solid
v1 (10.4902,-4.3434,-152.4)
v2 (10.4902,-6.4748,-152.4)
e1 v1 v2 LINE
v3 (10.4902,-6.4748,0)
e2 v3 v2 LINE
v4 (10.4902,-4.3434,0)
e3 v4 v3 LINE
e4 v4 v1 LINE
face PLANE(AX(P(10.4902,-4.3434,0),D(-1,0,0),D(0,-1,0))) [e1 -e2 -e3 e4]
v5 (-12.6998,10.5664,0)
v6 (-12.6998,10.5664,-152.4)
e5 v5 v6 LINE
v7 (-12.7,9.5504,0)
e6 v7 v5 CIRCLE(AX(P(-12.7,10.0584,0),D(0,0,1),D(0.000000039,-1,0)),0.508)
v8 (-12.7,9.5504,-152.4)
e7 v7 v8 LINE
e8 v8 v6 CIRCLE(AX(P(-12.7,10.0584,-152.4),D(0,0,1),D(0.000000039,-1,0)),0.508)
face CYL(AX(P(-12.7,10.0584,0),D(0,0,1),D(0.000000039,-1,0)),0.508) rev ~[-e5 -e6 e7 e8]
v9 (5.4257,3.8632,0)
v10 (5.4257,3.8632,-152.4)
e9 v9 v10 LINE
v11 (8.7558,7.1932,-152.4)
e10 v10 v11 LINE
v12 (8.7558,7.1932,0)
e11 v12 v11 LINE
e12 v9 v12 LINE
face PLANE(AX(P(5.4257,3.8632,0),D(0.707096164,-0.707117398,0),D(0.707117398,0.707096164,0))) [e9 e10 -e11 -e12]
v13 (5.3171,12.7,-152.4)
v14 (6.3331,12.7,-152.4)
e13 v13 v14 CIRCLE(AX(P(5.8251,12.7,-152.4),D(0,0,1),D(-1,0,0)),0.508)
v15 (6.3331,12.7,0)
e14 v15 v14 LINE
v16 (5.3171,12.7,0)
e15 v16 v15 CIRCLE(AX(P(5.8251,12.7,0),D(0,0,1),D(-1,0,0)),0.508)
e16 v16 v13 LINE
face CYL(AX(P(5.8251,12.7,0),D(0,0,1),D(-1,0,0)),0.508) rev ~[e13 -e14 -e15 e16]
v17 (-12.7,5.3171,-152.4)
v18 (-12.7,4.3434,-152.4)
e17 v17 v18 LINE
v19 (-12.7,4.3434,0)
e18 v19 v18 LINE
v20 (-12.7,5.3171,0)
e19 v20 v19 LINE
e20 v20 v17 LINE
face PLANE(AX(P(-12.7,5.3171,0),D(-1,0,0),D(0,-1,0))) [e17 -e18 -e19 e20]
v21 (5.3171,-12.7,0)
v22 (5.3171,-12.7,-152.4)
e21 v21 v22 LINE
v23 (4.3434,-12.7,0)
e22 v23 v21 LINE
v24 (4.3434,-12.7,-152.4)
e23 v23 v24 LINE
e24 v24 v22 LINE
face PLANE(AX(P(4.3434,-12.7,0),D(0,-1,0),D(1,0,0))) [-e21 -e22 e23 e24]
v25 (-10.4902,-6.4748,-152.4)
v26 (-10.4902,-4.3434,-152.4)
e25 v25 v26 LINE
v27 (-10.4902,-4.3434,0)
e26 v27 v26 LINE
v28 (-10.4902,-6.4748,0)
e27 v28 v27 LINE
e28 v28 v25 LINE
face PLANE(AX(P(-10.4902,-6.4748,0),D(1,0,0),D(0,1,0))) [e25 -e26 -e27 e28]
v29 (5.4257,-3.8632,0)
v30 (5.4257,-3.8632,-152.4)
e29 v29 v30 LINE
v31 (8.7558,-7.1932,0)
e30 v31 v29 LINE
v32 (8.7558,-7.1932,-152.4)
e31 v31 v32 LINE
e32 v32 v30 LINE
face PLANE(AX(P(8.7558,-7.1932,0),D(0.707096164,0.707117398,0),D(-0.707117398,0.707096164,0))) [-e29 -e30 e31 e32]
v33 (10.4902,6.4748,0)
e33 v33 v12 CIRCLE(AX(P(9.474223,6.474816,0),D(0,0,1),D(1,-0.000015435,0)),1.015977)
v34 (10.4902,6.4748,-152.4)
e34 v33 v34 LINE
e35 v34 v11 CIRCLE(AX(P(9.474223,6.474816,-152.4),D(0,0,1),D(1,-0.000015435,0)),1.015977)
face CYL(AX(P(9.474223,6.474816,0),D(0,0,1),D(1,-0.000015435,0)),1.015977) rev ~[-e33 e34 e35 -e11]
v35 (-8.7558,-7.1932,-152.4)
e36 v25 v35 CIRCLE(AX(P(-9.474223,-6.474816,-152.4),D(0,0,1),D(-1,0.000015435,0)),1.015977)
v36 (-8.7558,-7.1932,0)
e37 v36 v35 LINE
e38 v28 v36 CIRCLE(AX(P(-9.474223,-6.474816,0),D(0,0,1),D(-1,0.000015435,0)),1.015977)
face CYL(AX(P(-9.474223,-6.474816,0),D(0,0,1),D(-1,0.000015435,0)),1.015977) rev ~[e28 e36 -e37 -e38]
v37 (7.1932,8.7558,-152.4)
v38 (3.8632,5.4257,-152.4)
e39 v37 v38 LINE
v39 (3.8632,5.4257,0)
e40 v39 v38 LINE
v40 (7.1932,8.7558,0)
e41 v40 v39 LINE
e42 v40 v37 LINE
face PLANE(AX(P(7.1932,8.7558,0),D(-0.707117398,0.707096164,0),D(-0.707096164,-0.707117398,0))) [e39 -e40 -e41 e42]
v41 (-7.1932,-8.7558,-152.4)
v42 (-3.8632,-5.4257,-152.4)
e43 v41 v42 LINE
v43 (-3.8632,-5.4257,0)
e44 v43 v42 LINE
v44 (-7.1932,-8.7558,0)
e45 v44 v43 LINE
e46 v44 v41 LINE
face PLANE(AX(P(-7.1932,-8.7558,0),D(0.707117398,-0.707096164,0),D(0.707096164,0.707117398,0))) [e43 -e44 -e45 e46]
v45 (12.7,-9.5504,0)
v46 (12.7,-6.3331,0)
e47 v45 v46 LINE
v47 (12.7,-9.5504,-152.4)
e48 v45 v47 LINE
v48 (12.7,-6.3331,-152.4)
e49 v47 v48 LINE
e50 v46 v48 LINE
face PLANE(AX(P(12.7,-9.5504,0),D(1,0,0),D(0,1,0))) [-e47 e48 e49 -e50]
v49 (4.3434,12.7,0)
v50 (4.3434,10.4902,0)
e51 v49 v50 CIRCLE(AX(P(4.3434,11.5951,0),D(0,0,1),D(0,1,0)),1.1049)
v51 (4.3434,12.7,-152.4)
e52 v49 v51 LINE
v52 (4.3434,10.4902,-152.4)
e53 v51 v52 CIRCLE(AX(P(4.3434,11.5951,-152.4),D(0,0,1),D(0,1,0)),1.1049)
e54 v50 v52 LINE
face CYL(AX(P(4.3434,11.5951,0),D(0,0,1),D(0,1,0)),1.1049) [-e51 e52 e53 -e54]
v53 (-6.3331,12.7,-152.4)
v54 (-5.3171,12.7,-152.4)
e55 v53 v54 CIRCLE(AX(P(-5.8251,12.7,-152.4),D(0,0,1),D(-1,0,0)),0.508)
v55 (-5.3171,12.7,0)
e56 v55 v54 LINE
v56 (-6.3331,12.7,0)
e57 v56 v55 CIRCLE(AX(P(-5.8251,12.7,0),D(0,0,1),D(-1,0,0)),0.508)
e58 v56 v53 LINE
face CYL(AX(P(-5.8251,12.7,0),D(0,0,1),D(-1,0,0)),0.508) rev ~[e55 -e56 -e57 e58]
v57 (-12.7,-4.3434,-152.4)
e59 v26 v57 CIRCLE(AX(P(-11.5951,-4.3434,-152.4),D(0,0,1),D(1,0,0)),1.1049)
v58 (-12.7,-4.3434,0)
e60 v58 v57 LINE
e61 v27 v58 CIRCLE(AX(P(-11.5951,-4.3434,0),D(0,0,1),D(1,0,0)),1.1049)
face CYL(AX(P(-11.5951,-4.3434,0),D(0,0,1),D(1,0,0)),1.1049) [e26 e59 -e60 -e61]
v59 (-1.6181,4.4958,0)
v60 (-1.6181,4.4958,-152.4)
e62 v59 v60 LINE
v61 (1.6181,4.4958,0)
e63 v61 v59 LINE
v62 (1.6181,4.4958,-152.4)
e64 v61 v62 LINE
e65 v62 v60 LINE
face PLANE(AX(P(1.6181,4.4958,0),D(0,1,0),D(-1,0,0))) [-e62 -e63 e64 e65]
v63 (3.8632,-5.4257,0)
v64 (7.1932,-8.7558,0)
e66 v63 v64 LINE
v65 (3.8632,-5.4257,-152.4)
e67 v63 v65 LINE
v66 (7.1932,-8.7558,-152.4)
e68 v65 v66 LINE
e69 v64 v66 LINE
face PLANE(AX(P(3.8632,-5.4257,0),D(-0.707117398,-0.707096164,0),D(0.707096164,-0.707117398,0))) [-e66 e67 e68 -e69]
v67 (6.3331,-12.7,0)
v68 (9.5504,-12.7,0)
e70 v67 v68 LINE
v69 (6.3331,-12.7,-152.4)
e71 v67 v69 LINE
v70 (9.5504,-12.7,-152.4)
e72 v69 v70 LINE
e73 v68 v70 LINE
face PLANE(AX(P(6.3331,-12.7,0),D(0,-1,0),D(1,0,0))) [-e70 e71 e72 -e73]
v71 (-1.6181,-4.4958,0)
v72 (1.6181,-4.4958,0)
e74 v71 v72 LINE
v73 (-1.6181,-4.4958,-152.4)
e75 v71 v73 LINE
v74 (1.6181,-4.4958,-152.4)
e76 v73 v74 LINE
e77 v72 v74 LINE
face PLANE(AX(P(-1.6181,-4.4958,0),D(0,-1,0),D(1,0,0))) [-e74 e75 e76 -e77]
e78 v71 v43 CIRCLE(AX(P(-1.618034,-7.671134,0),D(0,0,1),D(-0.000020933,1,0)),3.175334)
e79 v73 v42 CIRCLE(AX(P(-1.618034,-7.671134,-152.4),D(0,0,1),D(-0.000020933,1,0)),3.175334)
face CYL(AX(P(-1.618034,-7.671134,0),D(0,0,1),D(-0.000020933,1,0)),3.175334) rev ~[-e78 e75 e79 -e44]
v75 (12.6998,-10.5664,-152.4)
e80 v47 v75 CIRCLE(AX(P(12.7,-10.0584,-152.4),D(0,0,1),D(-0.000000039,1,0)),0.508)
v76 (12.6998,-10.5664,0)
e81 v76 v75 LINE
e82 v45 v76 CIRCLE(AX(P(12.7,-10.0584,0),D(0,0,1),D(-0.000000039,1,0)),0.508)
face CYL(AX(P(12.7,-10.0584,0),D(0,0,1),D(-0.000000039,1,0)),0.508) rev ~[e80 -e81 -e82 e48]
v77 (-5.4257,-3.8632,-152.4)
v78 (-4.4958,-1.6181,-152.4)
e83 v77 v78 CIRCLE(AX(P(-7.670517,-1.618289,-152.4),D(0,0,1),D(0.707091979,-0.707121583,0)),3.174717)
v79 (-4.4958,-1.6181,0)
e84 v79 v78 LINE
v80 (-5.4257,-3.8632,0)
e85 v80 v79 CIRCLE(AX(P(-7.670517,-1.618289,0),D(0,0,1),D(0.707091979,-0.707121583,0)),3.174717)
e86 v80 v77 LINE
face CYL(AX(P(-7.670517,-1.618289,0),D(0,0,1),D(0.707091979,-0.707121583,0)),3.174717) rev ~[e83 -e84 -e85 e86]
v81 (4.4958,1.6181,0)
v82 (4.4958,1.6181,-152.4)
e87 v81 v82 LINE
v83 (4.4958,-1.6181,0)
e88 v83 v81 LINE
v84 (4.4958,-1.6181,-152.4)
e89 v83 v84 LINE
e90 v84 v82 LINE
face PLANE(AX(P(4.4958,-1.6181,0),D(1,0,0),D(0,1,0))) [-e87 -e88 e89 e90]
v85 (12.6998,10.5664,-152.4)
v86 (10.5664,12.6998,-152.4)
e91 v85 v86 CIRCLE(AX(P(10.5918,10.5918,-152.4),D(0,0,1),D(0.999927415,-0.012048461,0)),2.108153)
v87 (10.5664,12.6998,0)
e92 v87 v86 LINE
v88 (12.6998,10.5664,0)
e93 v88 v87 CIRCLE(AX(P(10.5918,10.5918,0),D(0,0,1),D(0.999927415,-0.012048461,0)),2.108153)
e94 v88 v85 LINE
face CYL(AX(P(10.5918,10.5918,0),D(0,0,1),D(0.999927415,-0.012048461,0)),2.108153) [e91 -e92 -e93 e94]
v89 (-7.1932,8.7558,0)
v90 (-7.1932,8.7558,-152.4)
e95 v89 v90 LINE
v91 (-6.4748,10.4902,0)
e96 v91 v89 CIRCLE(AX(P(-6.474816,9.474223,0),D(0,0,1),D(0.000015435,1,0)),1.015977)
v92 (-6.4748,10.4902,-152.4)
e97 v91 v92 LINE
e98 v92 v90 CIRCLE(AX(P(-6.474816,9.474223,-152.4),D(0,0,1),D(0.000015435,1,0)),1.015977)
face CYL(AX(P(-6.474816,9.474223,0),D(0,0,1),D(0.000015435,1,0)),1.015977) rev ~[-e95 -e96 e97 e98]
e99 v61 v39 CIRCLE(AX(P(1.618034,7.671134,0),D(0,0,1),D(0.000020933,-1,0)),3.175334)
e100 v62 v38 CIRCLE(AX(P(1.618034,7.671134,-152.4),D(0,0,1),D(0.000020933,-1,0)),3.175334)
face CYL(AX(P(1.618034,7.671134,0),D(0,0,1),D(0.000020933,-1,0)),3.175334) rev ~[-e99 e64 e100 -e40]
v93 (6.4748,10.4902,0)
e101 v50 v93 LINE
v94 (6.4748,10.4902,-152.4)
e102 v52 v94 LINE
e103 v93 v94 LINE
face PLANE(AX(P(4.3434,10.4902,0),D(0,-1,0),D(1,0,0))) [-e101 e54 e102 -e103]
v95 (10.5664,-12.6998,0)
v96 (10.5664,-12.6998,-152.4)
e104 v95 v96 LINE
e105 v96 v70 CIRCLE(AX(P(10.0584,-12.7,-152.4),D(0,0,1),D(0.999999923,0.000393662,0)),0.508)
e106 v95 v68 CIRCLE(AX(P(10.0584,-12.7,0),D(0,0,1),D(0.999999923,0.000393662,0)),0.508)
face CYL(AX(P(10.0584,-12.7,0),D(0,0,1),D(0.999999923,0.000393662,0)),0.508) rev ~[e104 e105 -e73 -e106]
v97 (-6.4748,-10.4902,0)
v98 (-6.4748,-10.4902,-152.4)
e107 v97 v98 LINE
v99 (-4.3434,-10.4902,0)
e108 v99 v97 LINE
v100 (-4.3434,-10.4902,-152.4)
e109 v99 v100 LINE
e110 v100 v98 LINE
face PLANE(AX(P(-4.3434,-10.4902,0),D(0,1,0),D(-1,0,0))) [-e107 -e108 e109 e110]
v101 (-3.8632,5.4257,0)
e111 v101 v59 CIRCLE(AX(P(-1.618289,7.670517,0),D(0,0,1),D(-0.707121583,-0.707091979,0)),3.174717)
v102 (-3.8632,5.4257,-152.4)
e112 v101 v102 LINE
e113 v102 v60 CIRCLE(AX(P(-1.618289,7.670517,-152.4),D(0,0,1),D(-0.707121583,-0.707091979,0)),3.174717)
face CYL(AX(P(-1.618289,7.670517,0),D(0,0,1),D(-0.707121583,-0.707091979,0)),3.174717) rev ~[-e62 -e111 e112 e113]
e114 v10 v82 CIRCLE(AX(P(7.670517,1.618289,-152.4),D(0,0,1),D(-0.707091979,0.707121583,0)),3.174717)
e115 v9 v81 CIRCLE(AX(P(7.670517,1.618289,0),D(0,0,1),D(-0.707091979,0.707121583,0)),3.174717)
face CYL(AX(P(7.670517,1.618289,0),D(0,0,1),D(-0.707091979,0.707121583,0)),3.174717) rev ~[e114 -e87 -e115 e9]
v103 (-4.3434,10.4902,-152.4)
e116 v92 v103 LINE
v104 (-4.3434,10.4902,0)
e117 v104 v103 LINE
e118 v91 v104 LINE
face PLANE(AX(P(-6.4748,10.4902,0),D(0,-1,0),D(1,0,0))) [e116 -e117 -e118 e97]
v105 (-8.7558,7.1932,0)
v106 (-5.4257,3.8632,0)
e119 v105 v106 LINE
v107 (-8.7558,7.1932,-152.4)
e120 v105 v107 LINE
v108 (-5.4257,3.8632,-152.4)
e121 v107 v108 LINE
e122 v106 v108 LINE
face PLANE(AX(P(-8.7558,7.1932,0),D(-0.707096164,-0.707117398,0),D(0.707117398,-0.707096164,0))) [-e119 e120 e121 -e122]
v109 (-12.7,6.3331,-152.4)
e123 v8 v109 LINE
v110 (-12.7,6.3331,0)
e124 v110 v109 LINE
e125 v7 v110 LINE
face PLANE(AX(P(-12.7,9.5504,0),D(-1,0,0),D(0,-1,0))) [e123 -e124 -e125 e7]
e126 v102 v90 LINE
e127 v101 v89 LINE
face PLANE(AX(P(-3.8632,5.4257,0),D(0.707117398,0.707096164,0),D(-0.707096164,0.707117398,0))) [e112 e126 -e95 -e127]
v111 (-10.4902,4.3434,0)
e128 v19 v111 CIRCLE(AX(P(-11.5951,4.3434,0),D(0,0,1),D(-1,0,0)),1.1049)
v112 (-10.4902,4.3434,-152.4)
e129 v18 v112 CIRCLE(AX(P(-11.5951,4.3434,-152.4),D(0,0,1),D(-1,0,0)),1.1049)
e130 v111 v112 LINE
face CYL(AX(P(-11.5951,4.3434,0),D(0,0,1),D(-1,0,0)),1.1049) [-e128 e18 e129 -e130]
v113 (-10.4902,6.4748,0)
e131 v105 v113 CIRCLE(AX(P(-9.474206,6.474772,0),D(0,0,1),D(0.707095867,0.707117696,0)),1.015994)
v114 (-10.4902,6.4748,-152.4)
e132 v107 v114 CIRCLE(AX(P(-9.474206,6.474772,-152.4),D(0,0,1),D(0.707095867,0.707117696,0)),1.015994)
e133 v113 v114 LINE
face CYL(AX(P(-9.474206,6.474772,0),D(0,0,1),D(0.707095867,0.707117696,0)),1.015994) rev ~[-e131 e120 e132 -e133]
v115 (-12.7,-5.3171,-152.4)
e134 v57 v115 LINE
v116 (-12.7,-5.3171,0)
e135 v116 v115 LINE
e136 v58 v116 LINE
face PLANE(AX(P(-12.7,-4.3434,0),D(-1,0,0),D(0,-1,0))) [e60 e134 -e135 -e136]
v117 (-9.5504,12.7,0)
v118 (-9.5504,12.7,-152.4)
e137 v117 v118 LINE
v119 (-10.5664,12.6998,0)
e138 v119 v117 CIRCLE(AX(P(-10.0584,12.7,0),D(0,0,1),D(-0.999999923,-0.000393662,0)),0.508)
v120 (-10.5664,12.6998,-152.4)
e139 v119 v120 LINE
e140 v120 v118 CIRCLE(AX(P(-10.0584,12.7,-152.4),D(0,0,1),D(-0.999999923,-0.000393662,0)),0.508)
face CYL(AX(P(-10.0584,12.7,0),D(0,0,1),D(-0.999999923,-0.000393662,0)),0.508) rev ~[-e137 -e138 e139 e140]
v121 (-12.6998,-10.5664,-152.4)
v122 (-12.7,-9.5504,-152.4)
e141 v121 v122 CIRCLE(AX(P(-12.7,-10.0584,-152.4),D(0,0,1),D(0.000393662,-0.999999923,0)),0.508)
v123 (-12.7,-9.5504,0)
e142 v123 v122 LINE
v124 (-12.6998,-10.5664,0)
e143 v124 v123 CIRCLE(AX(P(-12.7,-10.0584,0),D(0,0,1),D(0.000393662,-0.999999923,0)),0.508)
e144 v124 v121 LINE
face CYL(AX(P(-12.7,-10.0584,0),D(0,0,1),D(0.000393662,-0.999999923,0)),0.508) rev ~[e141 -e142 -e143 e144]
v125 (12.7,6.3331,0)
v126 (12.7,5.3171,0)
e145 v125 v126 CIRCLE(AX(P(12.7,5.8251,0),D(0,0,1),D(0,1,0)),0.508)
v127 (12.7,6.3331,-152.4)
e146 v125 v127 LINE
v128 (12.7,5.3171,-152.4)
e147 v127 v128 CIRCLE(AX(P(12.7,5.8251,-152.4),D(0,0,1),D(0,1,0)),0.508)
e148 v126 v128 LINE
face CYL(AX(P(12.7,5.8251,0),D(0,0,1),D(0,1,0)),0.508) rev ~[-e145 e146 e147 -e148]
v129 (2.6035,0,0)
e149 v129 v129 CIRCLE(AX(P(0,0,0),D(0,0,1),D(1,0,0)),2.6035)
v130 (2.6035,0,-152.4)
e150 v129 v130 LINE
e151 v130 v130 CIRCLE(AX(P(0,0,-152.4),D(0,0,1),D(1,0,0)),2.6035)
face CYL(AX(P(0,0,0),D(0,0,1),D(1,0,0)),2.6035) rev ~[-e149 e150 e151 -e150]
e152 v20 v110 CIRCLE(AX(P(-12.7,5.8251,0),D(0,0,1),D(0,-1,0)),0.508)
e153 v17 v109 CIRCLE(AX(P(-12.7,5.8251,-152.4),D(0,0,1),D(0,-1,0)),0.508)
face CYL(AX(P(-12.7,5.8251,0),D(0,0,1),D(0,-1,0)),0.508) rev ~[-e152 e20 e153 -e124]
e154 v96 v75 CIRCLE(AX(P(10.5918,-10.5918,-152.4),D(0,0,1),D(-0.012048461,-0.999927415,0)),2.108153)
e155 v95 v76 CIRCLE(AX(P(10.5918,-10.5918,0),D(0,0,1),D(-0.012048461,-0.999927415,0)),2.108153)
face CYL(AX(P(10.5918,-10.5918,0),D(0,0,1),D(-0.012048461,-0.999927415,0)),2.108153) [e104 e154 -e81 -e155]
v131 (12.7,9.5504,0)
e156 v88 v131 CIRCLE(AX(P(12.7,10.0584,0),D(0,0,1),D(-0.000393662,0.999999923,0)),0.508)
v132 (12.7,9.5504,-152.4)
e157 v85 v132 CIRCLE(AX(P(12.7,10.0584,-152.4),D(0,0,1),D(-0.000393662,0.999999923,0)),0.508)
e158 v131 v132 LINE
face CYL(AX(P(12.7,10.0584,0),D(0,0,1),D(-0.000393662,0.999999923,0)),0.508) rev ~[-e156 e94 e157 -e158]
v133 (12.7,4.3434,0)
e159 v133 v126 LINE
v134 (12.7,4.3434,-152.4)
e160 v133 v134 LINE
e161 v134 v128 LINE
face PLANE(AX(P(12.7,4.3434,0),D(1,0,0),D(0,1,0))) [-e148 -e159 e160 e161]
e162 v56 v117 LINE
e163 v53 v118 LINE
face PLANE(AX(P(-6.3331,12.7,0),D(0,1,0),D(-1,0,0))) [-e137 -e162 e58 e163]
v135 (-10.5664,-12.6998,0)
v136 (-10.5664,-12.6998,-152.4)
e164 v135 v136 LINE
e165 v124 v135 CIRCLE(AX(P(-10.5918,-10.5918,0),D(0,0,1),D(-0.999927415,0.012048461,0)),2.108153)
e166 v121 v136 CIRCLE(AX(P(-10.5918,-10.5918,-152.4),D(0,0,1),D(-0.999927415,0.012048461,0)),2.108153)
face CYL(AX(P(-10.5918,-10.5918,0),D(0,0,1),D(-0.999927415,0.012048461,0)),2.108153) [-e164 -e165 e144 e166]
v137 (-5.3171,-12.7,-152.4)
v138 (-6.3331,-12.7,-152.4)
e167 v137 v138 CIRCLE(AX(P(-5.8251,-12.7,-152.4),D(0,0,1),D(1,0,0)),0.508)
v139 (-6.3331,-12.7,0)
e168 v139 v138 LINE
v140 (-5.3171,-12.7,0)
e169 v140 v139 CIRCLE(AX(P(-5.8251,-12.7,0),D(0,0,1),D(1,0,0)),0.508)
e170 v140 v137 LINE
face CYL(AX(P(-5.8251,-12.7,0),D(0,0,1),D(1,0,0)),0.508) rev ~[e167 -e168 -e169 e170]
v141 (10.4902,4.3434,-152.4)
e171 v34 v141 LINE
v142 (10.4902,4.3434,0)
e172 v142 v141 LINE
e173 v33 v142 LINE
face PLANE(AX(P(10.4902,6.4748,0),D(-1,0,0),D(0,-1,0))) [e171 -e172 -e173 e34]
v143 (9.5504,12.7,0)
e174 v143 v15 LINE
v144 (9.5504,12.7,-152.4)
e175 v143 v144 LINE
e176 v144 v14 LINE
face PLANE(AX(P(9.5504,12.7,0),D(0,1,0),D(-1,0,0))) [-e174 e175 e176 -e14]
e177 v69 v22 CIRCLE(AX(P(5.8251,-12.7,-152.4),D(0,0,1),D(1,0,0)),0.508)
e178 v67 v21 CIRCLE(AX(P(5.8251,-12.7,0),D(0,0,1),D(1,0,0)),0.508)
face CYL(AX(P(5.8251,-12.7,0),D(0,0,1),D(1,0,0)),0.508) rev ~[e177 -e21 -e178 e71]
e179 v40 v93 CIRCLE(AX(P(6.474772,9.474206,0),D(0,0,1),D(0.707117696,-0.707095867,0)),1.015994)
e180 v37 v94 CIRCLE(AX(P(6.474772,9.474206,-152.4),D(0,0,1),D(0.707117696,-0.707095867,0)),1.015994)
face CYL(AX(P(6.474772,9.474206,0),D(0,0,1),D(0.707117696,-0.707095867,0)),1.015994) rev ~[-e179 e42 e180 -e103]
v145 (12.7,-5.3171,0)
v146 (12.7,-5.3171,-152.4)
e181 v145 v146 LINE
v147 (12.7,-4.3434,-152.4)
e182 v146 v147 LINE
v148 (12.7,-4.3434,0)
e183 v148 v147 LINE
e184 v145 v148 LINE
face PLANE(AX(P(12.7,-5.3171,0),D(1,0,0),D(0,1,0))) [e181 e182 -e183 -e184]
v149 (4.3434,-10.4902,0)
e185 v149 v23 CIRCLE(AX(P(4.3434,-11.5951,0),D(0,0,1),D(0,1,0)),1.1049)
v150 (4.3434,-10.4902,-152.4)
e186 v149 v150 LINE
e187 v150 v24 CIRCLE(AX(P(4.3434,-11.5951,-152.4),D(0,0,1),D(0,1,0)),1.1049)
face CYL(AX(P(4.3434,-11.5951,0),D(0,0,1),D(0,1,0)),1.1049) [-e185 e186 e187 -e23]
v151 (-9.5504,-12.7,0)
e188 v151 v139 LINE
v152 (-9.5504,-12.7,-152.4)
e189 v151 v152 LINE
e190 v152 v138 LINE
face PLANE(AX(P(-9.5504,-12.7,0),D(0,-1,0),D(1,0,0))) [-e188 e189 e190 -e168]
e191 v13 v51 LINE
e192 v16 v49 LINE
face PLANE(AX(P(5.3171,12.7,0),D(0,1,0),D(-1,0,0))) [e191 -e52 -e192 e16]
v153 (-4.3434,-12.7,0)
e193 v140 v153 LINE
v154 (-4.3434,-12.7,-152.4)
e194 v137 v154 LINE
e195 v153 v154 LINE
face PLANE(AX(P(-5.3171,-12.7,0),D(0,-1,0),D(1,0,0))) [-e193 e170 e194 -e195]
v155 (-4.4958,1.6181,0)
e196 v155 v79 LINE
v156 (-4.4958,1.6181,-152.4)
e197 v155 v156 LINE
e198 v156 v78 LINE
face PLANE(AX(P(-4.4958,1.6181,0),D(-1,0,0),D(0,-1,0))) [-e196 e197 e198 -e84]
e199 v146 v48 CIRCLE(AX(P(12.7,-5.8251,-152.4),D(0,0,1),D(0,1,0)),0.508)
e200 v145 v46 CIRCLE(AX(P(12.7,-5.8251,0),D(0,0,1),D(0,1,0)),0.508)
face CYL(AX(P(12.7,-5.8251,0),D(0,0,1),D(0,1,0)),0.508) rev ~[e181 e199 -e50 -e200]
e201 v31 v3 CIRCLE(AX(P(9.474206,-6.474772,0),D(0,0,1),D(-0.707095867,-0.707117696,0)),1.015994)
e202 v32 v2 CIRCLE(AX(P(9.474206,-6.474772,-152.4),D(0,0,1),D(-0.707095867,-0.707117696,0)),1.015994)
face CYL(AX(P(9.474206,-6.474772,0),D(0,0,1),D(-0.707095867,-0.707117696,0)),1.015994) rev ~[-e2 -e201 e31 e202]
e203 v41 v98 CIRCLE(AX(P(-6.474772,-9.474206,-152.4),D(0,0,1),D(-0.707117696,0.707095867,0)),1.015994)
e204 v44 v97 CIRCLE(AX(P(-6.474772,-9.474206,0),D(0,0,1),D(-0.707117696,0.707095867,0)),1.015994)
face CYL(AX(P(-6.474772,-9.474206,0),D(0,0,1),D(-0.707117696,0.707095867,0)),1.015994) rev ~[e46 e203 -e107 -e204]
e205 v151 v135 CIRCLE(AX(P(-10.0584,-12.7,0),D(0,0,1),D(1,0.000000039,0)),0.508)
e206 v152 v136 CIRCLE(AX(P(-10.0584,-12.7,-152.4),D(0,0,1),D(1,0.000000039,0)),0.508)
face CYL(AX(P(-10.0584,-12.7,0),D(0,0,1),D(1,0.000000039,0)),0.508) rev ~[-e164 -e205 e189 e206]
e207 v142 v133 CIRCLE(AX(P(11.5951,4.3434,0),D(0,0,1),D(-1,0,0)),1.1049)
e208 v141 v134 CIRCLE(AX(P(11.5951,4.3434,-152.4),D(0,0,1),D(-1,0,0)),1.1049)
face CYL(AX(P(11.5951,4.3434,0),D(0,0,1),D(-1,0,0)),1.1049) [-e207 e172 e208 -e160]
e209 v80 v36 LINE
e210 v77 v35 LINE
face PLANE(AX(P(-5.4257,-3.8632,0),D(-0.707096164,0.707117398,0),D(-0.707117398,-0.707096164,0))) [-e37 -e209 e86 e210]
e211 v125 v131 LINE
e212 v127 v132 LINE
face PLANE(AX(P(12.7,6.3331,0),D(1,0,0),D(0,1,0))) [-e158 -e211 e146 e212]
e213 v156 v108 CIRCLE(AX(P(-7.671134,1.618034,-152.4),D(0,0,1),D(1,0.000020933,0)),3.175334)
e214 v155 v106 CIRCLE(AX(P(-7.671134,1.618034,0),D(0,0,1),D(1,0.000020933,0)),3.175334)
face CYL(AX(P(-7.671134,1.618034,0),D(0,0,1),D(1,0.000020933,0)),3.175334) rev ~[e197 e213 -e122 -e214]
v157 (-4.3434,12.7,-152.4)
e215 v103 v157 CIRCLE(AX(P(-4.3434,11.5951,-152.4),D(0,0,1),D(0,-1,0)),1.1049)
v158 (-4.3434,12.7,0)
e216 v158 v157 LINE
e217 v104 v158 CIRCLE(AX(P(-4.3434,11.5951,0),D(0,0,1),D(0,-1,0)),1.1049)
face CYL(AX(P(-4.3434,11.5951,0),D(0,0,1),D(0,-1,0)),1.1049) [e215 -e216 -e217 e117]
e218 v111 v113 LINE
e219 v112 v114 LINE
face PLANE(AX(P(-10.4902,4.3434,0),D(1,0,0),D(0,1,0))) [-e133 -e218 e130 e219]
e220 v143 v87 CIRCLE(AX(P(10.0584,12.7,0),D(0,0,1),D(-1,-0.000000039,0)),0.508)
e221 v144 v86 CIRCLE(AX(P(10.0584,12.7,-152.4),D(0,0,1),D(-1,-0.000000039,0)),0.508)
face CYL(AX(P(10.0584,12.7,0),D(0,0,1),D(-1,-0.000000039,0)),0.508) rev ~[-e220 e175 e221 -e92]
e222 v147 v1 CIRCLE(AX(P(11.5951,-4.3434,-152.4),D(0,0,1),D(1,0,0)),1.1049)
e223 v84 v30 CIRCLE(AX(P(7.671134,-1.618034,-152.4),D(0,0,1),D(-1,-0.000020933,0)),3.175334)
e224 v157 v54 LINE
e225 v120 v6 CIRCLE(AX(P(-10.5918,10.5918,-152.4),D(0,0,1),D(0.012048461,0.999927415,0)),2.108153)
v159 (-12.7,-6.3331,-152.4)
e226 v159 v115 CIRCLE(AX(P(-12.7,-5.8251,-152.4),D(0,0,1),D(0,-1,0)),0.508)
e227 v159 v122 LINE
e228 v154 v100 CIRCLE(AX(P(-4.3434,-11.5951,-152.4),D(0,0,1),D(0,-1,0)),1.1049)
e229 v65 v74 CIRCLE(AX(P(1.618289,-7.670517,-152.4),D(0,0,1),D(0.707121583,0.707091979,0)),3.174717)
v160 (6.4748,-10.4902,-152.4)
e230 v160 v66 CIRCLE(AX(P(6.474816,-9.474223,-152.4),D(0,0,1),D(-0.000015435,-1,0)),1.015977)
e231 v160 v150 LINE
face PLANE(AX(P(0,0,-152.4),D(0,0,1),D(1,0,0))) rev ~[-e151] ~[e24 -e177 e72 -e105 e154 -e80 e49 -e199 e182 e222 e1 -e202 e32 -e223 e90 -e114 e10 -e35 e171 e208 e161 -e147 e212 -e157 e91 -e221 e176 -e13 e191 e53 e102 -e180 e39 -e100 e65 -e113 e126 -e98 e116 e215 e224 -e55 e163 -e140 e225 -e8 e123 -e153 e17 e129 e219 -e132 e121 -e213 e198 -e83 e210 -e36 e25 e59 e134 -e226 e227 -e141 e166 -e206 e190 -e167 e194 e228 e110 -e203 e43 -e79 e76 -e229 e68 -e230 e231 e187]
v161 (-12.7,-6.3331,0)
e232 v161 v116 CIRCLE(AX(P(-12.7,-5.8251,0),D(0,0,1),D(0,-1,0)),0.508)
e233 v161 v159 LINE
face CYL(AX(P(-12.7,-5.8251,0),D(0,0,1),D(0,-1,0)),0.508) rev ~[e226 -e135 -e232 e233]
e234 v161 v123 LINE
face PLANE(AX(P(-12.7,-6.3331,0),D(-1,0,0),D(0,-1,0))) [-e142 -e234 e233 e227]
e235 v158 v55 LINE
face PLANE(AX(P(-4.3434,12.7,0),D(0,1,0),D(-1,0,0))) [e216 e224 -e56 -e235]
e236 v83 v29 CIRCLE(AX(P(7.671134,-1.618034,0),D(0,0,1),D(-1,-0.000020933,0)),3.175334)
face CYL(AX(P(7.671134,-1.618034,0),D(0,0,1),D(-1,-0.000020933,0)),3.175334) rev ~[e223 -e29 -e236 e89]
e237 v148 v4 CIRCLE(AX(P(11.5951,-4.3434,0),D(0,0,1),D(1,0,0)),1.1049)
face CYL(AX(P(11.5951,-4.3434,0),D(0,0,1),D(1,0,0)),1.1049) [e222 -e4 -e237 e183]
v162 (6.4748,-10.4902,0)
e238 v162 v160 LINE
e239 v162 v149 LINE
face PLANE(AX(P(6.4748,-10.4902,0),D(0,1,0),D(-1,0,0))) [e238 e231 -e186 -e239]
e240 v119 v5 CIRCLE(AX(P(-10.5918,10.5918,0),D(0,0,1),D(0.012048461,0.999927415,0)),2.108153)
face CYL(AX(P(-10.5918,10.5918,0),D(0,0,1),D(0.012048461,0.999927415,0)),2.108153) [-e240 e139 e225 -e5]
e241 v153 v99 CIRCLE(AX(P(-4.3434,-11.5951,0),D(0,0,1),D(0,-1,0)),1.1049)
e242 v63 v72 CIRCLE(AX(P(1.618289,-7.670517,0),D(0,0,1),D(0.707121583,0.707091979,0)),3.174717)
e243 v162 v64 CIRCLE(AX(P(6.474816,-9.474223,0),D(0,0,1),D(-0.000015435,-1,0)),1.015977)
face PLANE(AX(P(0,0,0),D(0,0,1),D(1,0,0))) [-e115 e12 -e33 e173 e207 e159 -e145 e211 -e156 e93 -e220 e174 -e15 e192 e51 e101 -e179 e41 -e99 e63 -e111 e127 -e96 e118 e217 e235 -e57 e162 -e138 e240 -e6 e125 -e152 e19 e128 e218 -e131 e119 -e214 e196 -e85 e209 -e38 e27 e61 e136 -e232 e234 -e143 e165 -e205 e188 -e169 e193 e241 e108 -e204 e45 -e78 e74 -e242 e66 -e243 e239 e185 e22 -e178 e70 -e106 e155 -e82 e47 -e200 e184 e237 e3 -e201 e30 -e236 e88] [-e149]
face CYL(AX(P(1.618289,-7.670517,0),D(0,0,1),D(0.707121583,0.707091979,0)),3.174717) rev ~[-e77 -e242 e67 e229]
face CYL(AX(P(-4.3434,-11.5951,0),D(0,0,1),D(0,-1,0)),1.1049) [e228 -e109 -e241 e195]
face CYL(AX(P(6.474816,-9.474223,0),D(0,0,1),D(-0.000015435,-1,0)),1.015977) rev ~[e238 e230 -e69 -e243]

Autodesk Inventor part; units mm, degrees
sketch "Sketch_1" plane through (0, 0, 0) normal (0, 0, 1) x (1, 0, 0)
  arc A0 (-12.6998, -10.5664) -> (-10.5664, -12.6998) centre (-10.5918, -10.5918) ccw
  arc A1 (-9.5504, -12.7) -> (-10.5664, -12.6998) centre (-10.0584, -12.7) ccw
  line L0 (-9.5504, -12.7) -> (-6.3331, -12.7)
  arc A2 (-5.3171, -12.7) -> (-6.3331, -12.7) centre (-5.8251, -12.7) ccw
  line L1 (-5.3171, -12.7) -> (-4.3434, -12.7)
  arc A3 (-4.3434, -12.7) -> (-4.3434, -10.4902) centre (-4.3434, -11.5951) ccw
  line L2 (-4.3434, -10.4902) -> (-6.4748, -10.4902)
  arc A4 (-7.1932, -8.7558) -> (-6.4748, -10.4902) centre (-6.4748, -9.4742) ccw
  line L3 (-7.1932, -8.7558) -> (-3.8632, -5.4257)
  arc A5 (-1.6181, -4.4958) -> (-3.8632, -5.4257) centre (-1.6181, -7.6708) ccw
  line L4 (-1.6181, -4.4958) -> (1.6181, -4.4958)
  arc A6 (3.8632, -5.4257) -> (1.6181, -4.4958) centre (1.6181, -7.6708) ccw
  line L5 (3.8632, -5.4257) -> (7.1932, -8.7558)
  arc A7 (6.4748, -10.4902) -> (7.1932, -8.7558) centre (6.4748, -9.4742) ccw
  line L6 (6.4748, -10.4902) -> (4.3434, -10.4902)
  arc A8 (4.3434, -10.4902) -> (4.3434, -12.7) centre (4.3434, -11.5951) ccw
  line L7 (4.3434, -12.7) -> (5.3171, -12.7)
  arc A9 (6.3331, -12.7) -> (5.3171, -12.7) centre (5.8251, -12.7) ccw
  line L8 (6.3331, -12.7) -> (9.5504, -12.7)
  arc A10 (10.5664, -12.6998) -> (9.5504, -12.7) centre (10.0584, -12.7) ccw
  arc A11 (10.5664, -12.6998) -> (12.6998, -10.5664) centre (10.5918, -10.5918) ccw
  arc A12 (12.7, -9.5504) -> (12.6998, -10.5664) centre (12.7, -10.0584) ccw
  line L9 (12.7, -9.5504) -> (12.7, -6.3331)
  arc A13 (12.7, -5.3171) -> (12.7, -6.3331) centre (12.7, -5.8251) ccw
  line L10 (12.7, -5.3171) -> (12.7, -4.3434)
  arc A14 (12.7, -4.3434) -> (10.4902, -4.3434) centre (11.5951, -4.3434) ccw
  line L11 (10.4902, -4.3434) -> (10.4902, -6.4748)
  arc A15 (8.7558, -7.1932) -> (10.4902, -6.4748) centre (9.4742, -6.4748) ccw
  line L12 (8.7558, -7.1932) -> (5.4257, -3.8632)
  arc A16 (4.4958, -1.6181) -> (5.4257, -3.8632) centre (7.6708, -1.6181) ccw
  line L13 (4.4958, -1.6181) -> (4.4958, 1.6181)
  arc A17 (5.4257, 3.8632) -> (4.4958, 1.6181) centre (7.6708, 1.6181) ccw
  line L14 (5.4257, 3.8632) -> (8.7558, 7.1932)
  arc A18 (10.4902, 6.4748) -> (8.7558, 7.1932) centre (9.4742, 6.4748) ccw
  line L15 (10.4902, 6.4748) -> (10.4902, 4.3434)
  arc A19 (10.4902, 4.3434) -> (12.7, 4.3434) centre (11.5951, 4.3434) ccw
  line L16 (12.7, 4.3434) -> (12.7, 5.3171)
  arc A20 (12.7, 6.3331) -> (12.7, 5.3171) centre (12.7, 5.8251) ccw
  line L17 (12.7, 6.3331) -> (12.7, 9.5504)
  arc A21 (12.6998, 10.5664) -> (12.7, 9.5504) centre (12.7, 10.0584) ccw
  arc A22 (12.6998, 10.5664) -> (10.5664, 12.6998) centre (10.5918, 10.5918) ccw
  arc A23 (9.5504, 12.7) -> (10.5664, 12.6998) centre (10.0584, 12.7) ccw
  line L18 (9.5504, 12.7) -> (6.3331, 12.7)
  arc A24 (5.3171, 12.7) -> (6.3331, 12.7) centre (5.8251, 12.7) ccw
  line L19 (5.3171, 12.7) -> (4.3434, 12.7)
  arc A25 (4.3434, 12.7) -> (4.3434, 10.4902) centre (4.3434, 11.5951) ccw
  line L20 (4.3434, 10.4902) -> (6.4748, 10.4902)
  arc A26 (7.1932, 8.7558) -> (6.4748, 10.4902) centre (6.4748, 9.4742) ccw
  line L21 (7.1932, 8.7558) -> (3.8632, 5.4257)
  arc A27 (1.6181, 4.4958) -> (3.8632, 5.4257) centre (1.6181, 7.6708) ccw
  line L22 (1.6181, 4.4958) -> (-1.6181, 4.4958)
  arc A28 (-3.8632, 5.4257) -> (-1.6181, 4.4958) centre (-1.6181, 7.6708) ccw
  line L23 (-3.8632, 5.4257) -> (-7.1932, 8.7558)
  arc A29 (-6.4748, 10.4902) -> (-7.1932, 8.7558) centre (-6.4748, 9.4742) ccw
  line L24 (-6.4748, 10.4902) -> (-4.3434, 10.4902)
  arc A30 (-4.3434, 10.4902) -> (-4.3434, 12.7) centre (-4.3434, 11.5951) ccw
  line L25 (-4.3434, 12.7) -> (-5.3171, 12.7)
  arc A31 (-6.3331, 12.7) -> (-5.3171, 12.7) centre (-5.8251, 12.7) ccw
  line L26 (-6.3331, 12.7) -> (-9.5504, 12.7)
  arc A32 (-10.5664, 12.6998) -> (-9.5504, 12.7) centre (-10.0584, 12.7) ccw
  arc A33 (-10.5664, 12.6998) -> (-12.6998, 10.5664) centre (-10.5918, 10.5918) ccw
  arc A34 (-12.7, 9.5504) -> (-12.6998, 10.5664) centre (-12.7, 10.0584) ccw
  line L27 (-12.7, 9.5504) -> (-12.7, 6.3331)
  arc A35 (-12.7, 5.3171) -> (-12.7, 6.3331) centre (-12.7, 5.8251) ccw
  line L28 (-12.7, 5.3171) -> (-12.7, 4.3434)
  arc A36 (-12.7, 4.3434) -> (-10.4902, 4.3434) centre (-11.5951, 4.3434) ccw
  line L29 (-10.4902, 4.3434) -> (-10.4902, 6.4748)
  arc A37 (-8.7558, 7.1932) -> (-10.4902, 6.4748) centre (-9.4742, 6.4748) ccw
  line L30 (-8.7558, 7.1932) -> (-5.4257, 3.8632)
  arc A38 (-4.4958, 1.6181) -> (-5.4257, 3.8632) centre (-7.6708, 1.6181) ccw
  line L31 (-4.4958, 1.6181) -> (-4.4958, -1.6181)
  arc A39 (-5.4257, -3.8632) -> (-4.4958, -1.6181) centre (-7.6708, -1.6181) ccw
  line L32 (-5.4257, -3.8632) -> (-8.7558, -7.1932)
  arc A40 (-10.4902, -6.4748) -> (-8.7558, -7.1932) centre (-9.4742, -6.4748) ccw
  line L33 (-10.4902, -6.4748) -> (-10.4902, -4.3434)
  arc A41 (-10.4902, -4.3434) -> (-12.7, -4.3434) centre (-11.5951, -4.3434) ccw
  line L34 (-12.7, -4.3434) -> (-12.7, -5.3171)
  arc A42 (-12.7, -6.3331) -> (-12.7, -5.3171) centre (-12.7, -5.8251) ccw
  line L35 (-12.7, -6.3331) -> (-12.7, -9.5504)
  arc A43 (-12.6998, -10.5664) -> (-12.7, -9.5504) centre (-12.7, -10.0584) ccw
  circle A44 centre (0, 0) radius 2.6035
extrude "Extrusion1" add sketch "Sketch_1" against normal blind 152.4
ref_plane "b1_XY" through (-12.7, 0, -190.5) normal (1, 0, 0) x (0, 0, -1)
ref_plane "b1_YZ" through (-12.7, 0, -190.5) normal (0, 0, -1) x (0, 1, 0)
ref_plane "b1_ZX" through (-12.7, 0, -190.5) normal (0, 1, 0) x (1, 0, 0)
ref_plane "b2_XY" through (12.7, 0, -190.5) normal (1, 0, 0) x (0, 0, -1)
ref_plane "b2_YZ" through (12.7, 0, -190.5) normal (0, 0, -1) x (0, 1, 0)
ref_plane "b2_ZX" through (12.7, 0, -190.5) normal (0, 1, 0) x (1, 0, 0)
ref_plane "profile1010_XY" through (0, 0, -190.5) normal (0, 0, 1) x (1, 0, 0)
ref_plane "profile1010_YZ" through (0, 0, -190.5) normal (1, 0, 0) x (0, 1, 0)
ref_plane "profile1010_ZX" through (0, 0, -190.5) normal (0, 1, 0) x (0, 0, 1)
properties part number "1010-15-CL"
